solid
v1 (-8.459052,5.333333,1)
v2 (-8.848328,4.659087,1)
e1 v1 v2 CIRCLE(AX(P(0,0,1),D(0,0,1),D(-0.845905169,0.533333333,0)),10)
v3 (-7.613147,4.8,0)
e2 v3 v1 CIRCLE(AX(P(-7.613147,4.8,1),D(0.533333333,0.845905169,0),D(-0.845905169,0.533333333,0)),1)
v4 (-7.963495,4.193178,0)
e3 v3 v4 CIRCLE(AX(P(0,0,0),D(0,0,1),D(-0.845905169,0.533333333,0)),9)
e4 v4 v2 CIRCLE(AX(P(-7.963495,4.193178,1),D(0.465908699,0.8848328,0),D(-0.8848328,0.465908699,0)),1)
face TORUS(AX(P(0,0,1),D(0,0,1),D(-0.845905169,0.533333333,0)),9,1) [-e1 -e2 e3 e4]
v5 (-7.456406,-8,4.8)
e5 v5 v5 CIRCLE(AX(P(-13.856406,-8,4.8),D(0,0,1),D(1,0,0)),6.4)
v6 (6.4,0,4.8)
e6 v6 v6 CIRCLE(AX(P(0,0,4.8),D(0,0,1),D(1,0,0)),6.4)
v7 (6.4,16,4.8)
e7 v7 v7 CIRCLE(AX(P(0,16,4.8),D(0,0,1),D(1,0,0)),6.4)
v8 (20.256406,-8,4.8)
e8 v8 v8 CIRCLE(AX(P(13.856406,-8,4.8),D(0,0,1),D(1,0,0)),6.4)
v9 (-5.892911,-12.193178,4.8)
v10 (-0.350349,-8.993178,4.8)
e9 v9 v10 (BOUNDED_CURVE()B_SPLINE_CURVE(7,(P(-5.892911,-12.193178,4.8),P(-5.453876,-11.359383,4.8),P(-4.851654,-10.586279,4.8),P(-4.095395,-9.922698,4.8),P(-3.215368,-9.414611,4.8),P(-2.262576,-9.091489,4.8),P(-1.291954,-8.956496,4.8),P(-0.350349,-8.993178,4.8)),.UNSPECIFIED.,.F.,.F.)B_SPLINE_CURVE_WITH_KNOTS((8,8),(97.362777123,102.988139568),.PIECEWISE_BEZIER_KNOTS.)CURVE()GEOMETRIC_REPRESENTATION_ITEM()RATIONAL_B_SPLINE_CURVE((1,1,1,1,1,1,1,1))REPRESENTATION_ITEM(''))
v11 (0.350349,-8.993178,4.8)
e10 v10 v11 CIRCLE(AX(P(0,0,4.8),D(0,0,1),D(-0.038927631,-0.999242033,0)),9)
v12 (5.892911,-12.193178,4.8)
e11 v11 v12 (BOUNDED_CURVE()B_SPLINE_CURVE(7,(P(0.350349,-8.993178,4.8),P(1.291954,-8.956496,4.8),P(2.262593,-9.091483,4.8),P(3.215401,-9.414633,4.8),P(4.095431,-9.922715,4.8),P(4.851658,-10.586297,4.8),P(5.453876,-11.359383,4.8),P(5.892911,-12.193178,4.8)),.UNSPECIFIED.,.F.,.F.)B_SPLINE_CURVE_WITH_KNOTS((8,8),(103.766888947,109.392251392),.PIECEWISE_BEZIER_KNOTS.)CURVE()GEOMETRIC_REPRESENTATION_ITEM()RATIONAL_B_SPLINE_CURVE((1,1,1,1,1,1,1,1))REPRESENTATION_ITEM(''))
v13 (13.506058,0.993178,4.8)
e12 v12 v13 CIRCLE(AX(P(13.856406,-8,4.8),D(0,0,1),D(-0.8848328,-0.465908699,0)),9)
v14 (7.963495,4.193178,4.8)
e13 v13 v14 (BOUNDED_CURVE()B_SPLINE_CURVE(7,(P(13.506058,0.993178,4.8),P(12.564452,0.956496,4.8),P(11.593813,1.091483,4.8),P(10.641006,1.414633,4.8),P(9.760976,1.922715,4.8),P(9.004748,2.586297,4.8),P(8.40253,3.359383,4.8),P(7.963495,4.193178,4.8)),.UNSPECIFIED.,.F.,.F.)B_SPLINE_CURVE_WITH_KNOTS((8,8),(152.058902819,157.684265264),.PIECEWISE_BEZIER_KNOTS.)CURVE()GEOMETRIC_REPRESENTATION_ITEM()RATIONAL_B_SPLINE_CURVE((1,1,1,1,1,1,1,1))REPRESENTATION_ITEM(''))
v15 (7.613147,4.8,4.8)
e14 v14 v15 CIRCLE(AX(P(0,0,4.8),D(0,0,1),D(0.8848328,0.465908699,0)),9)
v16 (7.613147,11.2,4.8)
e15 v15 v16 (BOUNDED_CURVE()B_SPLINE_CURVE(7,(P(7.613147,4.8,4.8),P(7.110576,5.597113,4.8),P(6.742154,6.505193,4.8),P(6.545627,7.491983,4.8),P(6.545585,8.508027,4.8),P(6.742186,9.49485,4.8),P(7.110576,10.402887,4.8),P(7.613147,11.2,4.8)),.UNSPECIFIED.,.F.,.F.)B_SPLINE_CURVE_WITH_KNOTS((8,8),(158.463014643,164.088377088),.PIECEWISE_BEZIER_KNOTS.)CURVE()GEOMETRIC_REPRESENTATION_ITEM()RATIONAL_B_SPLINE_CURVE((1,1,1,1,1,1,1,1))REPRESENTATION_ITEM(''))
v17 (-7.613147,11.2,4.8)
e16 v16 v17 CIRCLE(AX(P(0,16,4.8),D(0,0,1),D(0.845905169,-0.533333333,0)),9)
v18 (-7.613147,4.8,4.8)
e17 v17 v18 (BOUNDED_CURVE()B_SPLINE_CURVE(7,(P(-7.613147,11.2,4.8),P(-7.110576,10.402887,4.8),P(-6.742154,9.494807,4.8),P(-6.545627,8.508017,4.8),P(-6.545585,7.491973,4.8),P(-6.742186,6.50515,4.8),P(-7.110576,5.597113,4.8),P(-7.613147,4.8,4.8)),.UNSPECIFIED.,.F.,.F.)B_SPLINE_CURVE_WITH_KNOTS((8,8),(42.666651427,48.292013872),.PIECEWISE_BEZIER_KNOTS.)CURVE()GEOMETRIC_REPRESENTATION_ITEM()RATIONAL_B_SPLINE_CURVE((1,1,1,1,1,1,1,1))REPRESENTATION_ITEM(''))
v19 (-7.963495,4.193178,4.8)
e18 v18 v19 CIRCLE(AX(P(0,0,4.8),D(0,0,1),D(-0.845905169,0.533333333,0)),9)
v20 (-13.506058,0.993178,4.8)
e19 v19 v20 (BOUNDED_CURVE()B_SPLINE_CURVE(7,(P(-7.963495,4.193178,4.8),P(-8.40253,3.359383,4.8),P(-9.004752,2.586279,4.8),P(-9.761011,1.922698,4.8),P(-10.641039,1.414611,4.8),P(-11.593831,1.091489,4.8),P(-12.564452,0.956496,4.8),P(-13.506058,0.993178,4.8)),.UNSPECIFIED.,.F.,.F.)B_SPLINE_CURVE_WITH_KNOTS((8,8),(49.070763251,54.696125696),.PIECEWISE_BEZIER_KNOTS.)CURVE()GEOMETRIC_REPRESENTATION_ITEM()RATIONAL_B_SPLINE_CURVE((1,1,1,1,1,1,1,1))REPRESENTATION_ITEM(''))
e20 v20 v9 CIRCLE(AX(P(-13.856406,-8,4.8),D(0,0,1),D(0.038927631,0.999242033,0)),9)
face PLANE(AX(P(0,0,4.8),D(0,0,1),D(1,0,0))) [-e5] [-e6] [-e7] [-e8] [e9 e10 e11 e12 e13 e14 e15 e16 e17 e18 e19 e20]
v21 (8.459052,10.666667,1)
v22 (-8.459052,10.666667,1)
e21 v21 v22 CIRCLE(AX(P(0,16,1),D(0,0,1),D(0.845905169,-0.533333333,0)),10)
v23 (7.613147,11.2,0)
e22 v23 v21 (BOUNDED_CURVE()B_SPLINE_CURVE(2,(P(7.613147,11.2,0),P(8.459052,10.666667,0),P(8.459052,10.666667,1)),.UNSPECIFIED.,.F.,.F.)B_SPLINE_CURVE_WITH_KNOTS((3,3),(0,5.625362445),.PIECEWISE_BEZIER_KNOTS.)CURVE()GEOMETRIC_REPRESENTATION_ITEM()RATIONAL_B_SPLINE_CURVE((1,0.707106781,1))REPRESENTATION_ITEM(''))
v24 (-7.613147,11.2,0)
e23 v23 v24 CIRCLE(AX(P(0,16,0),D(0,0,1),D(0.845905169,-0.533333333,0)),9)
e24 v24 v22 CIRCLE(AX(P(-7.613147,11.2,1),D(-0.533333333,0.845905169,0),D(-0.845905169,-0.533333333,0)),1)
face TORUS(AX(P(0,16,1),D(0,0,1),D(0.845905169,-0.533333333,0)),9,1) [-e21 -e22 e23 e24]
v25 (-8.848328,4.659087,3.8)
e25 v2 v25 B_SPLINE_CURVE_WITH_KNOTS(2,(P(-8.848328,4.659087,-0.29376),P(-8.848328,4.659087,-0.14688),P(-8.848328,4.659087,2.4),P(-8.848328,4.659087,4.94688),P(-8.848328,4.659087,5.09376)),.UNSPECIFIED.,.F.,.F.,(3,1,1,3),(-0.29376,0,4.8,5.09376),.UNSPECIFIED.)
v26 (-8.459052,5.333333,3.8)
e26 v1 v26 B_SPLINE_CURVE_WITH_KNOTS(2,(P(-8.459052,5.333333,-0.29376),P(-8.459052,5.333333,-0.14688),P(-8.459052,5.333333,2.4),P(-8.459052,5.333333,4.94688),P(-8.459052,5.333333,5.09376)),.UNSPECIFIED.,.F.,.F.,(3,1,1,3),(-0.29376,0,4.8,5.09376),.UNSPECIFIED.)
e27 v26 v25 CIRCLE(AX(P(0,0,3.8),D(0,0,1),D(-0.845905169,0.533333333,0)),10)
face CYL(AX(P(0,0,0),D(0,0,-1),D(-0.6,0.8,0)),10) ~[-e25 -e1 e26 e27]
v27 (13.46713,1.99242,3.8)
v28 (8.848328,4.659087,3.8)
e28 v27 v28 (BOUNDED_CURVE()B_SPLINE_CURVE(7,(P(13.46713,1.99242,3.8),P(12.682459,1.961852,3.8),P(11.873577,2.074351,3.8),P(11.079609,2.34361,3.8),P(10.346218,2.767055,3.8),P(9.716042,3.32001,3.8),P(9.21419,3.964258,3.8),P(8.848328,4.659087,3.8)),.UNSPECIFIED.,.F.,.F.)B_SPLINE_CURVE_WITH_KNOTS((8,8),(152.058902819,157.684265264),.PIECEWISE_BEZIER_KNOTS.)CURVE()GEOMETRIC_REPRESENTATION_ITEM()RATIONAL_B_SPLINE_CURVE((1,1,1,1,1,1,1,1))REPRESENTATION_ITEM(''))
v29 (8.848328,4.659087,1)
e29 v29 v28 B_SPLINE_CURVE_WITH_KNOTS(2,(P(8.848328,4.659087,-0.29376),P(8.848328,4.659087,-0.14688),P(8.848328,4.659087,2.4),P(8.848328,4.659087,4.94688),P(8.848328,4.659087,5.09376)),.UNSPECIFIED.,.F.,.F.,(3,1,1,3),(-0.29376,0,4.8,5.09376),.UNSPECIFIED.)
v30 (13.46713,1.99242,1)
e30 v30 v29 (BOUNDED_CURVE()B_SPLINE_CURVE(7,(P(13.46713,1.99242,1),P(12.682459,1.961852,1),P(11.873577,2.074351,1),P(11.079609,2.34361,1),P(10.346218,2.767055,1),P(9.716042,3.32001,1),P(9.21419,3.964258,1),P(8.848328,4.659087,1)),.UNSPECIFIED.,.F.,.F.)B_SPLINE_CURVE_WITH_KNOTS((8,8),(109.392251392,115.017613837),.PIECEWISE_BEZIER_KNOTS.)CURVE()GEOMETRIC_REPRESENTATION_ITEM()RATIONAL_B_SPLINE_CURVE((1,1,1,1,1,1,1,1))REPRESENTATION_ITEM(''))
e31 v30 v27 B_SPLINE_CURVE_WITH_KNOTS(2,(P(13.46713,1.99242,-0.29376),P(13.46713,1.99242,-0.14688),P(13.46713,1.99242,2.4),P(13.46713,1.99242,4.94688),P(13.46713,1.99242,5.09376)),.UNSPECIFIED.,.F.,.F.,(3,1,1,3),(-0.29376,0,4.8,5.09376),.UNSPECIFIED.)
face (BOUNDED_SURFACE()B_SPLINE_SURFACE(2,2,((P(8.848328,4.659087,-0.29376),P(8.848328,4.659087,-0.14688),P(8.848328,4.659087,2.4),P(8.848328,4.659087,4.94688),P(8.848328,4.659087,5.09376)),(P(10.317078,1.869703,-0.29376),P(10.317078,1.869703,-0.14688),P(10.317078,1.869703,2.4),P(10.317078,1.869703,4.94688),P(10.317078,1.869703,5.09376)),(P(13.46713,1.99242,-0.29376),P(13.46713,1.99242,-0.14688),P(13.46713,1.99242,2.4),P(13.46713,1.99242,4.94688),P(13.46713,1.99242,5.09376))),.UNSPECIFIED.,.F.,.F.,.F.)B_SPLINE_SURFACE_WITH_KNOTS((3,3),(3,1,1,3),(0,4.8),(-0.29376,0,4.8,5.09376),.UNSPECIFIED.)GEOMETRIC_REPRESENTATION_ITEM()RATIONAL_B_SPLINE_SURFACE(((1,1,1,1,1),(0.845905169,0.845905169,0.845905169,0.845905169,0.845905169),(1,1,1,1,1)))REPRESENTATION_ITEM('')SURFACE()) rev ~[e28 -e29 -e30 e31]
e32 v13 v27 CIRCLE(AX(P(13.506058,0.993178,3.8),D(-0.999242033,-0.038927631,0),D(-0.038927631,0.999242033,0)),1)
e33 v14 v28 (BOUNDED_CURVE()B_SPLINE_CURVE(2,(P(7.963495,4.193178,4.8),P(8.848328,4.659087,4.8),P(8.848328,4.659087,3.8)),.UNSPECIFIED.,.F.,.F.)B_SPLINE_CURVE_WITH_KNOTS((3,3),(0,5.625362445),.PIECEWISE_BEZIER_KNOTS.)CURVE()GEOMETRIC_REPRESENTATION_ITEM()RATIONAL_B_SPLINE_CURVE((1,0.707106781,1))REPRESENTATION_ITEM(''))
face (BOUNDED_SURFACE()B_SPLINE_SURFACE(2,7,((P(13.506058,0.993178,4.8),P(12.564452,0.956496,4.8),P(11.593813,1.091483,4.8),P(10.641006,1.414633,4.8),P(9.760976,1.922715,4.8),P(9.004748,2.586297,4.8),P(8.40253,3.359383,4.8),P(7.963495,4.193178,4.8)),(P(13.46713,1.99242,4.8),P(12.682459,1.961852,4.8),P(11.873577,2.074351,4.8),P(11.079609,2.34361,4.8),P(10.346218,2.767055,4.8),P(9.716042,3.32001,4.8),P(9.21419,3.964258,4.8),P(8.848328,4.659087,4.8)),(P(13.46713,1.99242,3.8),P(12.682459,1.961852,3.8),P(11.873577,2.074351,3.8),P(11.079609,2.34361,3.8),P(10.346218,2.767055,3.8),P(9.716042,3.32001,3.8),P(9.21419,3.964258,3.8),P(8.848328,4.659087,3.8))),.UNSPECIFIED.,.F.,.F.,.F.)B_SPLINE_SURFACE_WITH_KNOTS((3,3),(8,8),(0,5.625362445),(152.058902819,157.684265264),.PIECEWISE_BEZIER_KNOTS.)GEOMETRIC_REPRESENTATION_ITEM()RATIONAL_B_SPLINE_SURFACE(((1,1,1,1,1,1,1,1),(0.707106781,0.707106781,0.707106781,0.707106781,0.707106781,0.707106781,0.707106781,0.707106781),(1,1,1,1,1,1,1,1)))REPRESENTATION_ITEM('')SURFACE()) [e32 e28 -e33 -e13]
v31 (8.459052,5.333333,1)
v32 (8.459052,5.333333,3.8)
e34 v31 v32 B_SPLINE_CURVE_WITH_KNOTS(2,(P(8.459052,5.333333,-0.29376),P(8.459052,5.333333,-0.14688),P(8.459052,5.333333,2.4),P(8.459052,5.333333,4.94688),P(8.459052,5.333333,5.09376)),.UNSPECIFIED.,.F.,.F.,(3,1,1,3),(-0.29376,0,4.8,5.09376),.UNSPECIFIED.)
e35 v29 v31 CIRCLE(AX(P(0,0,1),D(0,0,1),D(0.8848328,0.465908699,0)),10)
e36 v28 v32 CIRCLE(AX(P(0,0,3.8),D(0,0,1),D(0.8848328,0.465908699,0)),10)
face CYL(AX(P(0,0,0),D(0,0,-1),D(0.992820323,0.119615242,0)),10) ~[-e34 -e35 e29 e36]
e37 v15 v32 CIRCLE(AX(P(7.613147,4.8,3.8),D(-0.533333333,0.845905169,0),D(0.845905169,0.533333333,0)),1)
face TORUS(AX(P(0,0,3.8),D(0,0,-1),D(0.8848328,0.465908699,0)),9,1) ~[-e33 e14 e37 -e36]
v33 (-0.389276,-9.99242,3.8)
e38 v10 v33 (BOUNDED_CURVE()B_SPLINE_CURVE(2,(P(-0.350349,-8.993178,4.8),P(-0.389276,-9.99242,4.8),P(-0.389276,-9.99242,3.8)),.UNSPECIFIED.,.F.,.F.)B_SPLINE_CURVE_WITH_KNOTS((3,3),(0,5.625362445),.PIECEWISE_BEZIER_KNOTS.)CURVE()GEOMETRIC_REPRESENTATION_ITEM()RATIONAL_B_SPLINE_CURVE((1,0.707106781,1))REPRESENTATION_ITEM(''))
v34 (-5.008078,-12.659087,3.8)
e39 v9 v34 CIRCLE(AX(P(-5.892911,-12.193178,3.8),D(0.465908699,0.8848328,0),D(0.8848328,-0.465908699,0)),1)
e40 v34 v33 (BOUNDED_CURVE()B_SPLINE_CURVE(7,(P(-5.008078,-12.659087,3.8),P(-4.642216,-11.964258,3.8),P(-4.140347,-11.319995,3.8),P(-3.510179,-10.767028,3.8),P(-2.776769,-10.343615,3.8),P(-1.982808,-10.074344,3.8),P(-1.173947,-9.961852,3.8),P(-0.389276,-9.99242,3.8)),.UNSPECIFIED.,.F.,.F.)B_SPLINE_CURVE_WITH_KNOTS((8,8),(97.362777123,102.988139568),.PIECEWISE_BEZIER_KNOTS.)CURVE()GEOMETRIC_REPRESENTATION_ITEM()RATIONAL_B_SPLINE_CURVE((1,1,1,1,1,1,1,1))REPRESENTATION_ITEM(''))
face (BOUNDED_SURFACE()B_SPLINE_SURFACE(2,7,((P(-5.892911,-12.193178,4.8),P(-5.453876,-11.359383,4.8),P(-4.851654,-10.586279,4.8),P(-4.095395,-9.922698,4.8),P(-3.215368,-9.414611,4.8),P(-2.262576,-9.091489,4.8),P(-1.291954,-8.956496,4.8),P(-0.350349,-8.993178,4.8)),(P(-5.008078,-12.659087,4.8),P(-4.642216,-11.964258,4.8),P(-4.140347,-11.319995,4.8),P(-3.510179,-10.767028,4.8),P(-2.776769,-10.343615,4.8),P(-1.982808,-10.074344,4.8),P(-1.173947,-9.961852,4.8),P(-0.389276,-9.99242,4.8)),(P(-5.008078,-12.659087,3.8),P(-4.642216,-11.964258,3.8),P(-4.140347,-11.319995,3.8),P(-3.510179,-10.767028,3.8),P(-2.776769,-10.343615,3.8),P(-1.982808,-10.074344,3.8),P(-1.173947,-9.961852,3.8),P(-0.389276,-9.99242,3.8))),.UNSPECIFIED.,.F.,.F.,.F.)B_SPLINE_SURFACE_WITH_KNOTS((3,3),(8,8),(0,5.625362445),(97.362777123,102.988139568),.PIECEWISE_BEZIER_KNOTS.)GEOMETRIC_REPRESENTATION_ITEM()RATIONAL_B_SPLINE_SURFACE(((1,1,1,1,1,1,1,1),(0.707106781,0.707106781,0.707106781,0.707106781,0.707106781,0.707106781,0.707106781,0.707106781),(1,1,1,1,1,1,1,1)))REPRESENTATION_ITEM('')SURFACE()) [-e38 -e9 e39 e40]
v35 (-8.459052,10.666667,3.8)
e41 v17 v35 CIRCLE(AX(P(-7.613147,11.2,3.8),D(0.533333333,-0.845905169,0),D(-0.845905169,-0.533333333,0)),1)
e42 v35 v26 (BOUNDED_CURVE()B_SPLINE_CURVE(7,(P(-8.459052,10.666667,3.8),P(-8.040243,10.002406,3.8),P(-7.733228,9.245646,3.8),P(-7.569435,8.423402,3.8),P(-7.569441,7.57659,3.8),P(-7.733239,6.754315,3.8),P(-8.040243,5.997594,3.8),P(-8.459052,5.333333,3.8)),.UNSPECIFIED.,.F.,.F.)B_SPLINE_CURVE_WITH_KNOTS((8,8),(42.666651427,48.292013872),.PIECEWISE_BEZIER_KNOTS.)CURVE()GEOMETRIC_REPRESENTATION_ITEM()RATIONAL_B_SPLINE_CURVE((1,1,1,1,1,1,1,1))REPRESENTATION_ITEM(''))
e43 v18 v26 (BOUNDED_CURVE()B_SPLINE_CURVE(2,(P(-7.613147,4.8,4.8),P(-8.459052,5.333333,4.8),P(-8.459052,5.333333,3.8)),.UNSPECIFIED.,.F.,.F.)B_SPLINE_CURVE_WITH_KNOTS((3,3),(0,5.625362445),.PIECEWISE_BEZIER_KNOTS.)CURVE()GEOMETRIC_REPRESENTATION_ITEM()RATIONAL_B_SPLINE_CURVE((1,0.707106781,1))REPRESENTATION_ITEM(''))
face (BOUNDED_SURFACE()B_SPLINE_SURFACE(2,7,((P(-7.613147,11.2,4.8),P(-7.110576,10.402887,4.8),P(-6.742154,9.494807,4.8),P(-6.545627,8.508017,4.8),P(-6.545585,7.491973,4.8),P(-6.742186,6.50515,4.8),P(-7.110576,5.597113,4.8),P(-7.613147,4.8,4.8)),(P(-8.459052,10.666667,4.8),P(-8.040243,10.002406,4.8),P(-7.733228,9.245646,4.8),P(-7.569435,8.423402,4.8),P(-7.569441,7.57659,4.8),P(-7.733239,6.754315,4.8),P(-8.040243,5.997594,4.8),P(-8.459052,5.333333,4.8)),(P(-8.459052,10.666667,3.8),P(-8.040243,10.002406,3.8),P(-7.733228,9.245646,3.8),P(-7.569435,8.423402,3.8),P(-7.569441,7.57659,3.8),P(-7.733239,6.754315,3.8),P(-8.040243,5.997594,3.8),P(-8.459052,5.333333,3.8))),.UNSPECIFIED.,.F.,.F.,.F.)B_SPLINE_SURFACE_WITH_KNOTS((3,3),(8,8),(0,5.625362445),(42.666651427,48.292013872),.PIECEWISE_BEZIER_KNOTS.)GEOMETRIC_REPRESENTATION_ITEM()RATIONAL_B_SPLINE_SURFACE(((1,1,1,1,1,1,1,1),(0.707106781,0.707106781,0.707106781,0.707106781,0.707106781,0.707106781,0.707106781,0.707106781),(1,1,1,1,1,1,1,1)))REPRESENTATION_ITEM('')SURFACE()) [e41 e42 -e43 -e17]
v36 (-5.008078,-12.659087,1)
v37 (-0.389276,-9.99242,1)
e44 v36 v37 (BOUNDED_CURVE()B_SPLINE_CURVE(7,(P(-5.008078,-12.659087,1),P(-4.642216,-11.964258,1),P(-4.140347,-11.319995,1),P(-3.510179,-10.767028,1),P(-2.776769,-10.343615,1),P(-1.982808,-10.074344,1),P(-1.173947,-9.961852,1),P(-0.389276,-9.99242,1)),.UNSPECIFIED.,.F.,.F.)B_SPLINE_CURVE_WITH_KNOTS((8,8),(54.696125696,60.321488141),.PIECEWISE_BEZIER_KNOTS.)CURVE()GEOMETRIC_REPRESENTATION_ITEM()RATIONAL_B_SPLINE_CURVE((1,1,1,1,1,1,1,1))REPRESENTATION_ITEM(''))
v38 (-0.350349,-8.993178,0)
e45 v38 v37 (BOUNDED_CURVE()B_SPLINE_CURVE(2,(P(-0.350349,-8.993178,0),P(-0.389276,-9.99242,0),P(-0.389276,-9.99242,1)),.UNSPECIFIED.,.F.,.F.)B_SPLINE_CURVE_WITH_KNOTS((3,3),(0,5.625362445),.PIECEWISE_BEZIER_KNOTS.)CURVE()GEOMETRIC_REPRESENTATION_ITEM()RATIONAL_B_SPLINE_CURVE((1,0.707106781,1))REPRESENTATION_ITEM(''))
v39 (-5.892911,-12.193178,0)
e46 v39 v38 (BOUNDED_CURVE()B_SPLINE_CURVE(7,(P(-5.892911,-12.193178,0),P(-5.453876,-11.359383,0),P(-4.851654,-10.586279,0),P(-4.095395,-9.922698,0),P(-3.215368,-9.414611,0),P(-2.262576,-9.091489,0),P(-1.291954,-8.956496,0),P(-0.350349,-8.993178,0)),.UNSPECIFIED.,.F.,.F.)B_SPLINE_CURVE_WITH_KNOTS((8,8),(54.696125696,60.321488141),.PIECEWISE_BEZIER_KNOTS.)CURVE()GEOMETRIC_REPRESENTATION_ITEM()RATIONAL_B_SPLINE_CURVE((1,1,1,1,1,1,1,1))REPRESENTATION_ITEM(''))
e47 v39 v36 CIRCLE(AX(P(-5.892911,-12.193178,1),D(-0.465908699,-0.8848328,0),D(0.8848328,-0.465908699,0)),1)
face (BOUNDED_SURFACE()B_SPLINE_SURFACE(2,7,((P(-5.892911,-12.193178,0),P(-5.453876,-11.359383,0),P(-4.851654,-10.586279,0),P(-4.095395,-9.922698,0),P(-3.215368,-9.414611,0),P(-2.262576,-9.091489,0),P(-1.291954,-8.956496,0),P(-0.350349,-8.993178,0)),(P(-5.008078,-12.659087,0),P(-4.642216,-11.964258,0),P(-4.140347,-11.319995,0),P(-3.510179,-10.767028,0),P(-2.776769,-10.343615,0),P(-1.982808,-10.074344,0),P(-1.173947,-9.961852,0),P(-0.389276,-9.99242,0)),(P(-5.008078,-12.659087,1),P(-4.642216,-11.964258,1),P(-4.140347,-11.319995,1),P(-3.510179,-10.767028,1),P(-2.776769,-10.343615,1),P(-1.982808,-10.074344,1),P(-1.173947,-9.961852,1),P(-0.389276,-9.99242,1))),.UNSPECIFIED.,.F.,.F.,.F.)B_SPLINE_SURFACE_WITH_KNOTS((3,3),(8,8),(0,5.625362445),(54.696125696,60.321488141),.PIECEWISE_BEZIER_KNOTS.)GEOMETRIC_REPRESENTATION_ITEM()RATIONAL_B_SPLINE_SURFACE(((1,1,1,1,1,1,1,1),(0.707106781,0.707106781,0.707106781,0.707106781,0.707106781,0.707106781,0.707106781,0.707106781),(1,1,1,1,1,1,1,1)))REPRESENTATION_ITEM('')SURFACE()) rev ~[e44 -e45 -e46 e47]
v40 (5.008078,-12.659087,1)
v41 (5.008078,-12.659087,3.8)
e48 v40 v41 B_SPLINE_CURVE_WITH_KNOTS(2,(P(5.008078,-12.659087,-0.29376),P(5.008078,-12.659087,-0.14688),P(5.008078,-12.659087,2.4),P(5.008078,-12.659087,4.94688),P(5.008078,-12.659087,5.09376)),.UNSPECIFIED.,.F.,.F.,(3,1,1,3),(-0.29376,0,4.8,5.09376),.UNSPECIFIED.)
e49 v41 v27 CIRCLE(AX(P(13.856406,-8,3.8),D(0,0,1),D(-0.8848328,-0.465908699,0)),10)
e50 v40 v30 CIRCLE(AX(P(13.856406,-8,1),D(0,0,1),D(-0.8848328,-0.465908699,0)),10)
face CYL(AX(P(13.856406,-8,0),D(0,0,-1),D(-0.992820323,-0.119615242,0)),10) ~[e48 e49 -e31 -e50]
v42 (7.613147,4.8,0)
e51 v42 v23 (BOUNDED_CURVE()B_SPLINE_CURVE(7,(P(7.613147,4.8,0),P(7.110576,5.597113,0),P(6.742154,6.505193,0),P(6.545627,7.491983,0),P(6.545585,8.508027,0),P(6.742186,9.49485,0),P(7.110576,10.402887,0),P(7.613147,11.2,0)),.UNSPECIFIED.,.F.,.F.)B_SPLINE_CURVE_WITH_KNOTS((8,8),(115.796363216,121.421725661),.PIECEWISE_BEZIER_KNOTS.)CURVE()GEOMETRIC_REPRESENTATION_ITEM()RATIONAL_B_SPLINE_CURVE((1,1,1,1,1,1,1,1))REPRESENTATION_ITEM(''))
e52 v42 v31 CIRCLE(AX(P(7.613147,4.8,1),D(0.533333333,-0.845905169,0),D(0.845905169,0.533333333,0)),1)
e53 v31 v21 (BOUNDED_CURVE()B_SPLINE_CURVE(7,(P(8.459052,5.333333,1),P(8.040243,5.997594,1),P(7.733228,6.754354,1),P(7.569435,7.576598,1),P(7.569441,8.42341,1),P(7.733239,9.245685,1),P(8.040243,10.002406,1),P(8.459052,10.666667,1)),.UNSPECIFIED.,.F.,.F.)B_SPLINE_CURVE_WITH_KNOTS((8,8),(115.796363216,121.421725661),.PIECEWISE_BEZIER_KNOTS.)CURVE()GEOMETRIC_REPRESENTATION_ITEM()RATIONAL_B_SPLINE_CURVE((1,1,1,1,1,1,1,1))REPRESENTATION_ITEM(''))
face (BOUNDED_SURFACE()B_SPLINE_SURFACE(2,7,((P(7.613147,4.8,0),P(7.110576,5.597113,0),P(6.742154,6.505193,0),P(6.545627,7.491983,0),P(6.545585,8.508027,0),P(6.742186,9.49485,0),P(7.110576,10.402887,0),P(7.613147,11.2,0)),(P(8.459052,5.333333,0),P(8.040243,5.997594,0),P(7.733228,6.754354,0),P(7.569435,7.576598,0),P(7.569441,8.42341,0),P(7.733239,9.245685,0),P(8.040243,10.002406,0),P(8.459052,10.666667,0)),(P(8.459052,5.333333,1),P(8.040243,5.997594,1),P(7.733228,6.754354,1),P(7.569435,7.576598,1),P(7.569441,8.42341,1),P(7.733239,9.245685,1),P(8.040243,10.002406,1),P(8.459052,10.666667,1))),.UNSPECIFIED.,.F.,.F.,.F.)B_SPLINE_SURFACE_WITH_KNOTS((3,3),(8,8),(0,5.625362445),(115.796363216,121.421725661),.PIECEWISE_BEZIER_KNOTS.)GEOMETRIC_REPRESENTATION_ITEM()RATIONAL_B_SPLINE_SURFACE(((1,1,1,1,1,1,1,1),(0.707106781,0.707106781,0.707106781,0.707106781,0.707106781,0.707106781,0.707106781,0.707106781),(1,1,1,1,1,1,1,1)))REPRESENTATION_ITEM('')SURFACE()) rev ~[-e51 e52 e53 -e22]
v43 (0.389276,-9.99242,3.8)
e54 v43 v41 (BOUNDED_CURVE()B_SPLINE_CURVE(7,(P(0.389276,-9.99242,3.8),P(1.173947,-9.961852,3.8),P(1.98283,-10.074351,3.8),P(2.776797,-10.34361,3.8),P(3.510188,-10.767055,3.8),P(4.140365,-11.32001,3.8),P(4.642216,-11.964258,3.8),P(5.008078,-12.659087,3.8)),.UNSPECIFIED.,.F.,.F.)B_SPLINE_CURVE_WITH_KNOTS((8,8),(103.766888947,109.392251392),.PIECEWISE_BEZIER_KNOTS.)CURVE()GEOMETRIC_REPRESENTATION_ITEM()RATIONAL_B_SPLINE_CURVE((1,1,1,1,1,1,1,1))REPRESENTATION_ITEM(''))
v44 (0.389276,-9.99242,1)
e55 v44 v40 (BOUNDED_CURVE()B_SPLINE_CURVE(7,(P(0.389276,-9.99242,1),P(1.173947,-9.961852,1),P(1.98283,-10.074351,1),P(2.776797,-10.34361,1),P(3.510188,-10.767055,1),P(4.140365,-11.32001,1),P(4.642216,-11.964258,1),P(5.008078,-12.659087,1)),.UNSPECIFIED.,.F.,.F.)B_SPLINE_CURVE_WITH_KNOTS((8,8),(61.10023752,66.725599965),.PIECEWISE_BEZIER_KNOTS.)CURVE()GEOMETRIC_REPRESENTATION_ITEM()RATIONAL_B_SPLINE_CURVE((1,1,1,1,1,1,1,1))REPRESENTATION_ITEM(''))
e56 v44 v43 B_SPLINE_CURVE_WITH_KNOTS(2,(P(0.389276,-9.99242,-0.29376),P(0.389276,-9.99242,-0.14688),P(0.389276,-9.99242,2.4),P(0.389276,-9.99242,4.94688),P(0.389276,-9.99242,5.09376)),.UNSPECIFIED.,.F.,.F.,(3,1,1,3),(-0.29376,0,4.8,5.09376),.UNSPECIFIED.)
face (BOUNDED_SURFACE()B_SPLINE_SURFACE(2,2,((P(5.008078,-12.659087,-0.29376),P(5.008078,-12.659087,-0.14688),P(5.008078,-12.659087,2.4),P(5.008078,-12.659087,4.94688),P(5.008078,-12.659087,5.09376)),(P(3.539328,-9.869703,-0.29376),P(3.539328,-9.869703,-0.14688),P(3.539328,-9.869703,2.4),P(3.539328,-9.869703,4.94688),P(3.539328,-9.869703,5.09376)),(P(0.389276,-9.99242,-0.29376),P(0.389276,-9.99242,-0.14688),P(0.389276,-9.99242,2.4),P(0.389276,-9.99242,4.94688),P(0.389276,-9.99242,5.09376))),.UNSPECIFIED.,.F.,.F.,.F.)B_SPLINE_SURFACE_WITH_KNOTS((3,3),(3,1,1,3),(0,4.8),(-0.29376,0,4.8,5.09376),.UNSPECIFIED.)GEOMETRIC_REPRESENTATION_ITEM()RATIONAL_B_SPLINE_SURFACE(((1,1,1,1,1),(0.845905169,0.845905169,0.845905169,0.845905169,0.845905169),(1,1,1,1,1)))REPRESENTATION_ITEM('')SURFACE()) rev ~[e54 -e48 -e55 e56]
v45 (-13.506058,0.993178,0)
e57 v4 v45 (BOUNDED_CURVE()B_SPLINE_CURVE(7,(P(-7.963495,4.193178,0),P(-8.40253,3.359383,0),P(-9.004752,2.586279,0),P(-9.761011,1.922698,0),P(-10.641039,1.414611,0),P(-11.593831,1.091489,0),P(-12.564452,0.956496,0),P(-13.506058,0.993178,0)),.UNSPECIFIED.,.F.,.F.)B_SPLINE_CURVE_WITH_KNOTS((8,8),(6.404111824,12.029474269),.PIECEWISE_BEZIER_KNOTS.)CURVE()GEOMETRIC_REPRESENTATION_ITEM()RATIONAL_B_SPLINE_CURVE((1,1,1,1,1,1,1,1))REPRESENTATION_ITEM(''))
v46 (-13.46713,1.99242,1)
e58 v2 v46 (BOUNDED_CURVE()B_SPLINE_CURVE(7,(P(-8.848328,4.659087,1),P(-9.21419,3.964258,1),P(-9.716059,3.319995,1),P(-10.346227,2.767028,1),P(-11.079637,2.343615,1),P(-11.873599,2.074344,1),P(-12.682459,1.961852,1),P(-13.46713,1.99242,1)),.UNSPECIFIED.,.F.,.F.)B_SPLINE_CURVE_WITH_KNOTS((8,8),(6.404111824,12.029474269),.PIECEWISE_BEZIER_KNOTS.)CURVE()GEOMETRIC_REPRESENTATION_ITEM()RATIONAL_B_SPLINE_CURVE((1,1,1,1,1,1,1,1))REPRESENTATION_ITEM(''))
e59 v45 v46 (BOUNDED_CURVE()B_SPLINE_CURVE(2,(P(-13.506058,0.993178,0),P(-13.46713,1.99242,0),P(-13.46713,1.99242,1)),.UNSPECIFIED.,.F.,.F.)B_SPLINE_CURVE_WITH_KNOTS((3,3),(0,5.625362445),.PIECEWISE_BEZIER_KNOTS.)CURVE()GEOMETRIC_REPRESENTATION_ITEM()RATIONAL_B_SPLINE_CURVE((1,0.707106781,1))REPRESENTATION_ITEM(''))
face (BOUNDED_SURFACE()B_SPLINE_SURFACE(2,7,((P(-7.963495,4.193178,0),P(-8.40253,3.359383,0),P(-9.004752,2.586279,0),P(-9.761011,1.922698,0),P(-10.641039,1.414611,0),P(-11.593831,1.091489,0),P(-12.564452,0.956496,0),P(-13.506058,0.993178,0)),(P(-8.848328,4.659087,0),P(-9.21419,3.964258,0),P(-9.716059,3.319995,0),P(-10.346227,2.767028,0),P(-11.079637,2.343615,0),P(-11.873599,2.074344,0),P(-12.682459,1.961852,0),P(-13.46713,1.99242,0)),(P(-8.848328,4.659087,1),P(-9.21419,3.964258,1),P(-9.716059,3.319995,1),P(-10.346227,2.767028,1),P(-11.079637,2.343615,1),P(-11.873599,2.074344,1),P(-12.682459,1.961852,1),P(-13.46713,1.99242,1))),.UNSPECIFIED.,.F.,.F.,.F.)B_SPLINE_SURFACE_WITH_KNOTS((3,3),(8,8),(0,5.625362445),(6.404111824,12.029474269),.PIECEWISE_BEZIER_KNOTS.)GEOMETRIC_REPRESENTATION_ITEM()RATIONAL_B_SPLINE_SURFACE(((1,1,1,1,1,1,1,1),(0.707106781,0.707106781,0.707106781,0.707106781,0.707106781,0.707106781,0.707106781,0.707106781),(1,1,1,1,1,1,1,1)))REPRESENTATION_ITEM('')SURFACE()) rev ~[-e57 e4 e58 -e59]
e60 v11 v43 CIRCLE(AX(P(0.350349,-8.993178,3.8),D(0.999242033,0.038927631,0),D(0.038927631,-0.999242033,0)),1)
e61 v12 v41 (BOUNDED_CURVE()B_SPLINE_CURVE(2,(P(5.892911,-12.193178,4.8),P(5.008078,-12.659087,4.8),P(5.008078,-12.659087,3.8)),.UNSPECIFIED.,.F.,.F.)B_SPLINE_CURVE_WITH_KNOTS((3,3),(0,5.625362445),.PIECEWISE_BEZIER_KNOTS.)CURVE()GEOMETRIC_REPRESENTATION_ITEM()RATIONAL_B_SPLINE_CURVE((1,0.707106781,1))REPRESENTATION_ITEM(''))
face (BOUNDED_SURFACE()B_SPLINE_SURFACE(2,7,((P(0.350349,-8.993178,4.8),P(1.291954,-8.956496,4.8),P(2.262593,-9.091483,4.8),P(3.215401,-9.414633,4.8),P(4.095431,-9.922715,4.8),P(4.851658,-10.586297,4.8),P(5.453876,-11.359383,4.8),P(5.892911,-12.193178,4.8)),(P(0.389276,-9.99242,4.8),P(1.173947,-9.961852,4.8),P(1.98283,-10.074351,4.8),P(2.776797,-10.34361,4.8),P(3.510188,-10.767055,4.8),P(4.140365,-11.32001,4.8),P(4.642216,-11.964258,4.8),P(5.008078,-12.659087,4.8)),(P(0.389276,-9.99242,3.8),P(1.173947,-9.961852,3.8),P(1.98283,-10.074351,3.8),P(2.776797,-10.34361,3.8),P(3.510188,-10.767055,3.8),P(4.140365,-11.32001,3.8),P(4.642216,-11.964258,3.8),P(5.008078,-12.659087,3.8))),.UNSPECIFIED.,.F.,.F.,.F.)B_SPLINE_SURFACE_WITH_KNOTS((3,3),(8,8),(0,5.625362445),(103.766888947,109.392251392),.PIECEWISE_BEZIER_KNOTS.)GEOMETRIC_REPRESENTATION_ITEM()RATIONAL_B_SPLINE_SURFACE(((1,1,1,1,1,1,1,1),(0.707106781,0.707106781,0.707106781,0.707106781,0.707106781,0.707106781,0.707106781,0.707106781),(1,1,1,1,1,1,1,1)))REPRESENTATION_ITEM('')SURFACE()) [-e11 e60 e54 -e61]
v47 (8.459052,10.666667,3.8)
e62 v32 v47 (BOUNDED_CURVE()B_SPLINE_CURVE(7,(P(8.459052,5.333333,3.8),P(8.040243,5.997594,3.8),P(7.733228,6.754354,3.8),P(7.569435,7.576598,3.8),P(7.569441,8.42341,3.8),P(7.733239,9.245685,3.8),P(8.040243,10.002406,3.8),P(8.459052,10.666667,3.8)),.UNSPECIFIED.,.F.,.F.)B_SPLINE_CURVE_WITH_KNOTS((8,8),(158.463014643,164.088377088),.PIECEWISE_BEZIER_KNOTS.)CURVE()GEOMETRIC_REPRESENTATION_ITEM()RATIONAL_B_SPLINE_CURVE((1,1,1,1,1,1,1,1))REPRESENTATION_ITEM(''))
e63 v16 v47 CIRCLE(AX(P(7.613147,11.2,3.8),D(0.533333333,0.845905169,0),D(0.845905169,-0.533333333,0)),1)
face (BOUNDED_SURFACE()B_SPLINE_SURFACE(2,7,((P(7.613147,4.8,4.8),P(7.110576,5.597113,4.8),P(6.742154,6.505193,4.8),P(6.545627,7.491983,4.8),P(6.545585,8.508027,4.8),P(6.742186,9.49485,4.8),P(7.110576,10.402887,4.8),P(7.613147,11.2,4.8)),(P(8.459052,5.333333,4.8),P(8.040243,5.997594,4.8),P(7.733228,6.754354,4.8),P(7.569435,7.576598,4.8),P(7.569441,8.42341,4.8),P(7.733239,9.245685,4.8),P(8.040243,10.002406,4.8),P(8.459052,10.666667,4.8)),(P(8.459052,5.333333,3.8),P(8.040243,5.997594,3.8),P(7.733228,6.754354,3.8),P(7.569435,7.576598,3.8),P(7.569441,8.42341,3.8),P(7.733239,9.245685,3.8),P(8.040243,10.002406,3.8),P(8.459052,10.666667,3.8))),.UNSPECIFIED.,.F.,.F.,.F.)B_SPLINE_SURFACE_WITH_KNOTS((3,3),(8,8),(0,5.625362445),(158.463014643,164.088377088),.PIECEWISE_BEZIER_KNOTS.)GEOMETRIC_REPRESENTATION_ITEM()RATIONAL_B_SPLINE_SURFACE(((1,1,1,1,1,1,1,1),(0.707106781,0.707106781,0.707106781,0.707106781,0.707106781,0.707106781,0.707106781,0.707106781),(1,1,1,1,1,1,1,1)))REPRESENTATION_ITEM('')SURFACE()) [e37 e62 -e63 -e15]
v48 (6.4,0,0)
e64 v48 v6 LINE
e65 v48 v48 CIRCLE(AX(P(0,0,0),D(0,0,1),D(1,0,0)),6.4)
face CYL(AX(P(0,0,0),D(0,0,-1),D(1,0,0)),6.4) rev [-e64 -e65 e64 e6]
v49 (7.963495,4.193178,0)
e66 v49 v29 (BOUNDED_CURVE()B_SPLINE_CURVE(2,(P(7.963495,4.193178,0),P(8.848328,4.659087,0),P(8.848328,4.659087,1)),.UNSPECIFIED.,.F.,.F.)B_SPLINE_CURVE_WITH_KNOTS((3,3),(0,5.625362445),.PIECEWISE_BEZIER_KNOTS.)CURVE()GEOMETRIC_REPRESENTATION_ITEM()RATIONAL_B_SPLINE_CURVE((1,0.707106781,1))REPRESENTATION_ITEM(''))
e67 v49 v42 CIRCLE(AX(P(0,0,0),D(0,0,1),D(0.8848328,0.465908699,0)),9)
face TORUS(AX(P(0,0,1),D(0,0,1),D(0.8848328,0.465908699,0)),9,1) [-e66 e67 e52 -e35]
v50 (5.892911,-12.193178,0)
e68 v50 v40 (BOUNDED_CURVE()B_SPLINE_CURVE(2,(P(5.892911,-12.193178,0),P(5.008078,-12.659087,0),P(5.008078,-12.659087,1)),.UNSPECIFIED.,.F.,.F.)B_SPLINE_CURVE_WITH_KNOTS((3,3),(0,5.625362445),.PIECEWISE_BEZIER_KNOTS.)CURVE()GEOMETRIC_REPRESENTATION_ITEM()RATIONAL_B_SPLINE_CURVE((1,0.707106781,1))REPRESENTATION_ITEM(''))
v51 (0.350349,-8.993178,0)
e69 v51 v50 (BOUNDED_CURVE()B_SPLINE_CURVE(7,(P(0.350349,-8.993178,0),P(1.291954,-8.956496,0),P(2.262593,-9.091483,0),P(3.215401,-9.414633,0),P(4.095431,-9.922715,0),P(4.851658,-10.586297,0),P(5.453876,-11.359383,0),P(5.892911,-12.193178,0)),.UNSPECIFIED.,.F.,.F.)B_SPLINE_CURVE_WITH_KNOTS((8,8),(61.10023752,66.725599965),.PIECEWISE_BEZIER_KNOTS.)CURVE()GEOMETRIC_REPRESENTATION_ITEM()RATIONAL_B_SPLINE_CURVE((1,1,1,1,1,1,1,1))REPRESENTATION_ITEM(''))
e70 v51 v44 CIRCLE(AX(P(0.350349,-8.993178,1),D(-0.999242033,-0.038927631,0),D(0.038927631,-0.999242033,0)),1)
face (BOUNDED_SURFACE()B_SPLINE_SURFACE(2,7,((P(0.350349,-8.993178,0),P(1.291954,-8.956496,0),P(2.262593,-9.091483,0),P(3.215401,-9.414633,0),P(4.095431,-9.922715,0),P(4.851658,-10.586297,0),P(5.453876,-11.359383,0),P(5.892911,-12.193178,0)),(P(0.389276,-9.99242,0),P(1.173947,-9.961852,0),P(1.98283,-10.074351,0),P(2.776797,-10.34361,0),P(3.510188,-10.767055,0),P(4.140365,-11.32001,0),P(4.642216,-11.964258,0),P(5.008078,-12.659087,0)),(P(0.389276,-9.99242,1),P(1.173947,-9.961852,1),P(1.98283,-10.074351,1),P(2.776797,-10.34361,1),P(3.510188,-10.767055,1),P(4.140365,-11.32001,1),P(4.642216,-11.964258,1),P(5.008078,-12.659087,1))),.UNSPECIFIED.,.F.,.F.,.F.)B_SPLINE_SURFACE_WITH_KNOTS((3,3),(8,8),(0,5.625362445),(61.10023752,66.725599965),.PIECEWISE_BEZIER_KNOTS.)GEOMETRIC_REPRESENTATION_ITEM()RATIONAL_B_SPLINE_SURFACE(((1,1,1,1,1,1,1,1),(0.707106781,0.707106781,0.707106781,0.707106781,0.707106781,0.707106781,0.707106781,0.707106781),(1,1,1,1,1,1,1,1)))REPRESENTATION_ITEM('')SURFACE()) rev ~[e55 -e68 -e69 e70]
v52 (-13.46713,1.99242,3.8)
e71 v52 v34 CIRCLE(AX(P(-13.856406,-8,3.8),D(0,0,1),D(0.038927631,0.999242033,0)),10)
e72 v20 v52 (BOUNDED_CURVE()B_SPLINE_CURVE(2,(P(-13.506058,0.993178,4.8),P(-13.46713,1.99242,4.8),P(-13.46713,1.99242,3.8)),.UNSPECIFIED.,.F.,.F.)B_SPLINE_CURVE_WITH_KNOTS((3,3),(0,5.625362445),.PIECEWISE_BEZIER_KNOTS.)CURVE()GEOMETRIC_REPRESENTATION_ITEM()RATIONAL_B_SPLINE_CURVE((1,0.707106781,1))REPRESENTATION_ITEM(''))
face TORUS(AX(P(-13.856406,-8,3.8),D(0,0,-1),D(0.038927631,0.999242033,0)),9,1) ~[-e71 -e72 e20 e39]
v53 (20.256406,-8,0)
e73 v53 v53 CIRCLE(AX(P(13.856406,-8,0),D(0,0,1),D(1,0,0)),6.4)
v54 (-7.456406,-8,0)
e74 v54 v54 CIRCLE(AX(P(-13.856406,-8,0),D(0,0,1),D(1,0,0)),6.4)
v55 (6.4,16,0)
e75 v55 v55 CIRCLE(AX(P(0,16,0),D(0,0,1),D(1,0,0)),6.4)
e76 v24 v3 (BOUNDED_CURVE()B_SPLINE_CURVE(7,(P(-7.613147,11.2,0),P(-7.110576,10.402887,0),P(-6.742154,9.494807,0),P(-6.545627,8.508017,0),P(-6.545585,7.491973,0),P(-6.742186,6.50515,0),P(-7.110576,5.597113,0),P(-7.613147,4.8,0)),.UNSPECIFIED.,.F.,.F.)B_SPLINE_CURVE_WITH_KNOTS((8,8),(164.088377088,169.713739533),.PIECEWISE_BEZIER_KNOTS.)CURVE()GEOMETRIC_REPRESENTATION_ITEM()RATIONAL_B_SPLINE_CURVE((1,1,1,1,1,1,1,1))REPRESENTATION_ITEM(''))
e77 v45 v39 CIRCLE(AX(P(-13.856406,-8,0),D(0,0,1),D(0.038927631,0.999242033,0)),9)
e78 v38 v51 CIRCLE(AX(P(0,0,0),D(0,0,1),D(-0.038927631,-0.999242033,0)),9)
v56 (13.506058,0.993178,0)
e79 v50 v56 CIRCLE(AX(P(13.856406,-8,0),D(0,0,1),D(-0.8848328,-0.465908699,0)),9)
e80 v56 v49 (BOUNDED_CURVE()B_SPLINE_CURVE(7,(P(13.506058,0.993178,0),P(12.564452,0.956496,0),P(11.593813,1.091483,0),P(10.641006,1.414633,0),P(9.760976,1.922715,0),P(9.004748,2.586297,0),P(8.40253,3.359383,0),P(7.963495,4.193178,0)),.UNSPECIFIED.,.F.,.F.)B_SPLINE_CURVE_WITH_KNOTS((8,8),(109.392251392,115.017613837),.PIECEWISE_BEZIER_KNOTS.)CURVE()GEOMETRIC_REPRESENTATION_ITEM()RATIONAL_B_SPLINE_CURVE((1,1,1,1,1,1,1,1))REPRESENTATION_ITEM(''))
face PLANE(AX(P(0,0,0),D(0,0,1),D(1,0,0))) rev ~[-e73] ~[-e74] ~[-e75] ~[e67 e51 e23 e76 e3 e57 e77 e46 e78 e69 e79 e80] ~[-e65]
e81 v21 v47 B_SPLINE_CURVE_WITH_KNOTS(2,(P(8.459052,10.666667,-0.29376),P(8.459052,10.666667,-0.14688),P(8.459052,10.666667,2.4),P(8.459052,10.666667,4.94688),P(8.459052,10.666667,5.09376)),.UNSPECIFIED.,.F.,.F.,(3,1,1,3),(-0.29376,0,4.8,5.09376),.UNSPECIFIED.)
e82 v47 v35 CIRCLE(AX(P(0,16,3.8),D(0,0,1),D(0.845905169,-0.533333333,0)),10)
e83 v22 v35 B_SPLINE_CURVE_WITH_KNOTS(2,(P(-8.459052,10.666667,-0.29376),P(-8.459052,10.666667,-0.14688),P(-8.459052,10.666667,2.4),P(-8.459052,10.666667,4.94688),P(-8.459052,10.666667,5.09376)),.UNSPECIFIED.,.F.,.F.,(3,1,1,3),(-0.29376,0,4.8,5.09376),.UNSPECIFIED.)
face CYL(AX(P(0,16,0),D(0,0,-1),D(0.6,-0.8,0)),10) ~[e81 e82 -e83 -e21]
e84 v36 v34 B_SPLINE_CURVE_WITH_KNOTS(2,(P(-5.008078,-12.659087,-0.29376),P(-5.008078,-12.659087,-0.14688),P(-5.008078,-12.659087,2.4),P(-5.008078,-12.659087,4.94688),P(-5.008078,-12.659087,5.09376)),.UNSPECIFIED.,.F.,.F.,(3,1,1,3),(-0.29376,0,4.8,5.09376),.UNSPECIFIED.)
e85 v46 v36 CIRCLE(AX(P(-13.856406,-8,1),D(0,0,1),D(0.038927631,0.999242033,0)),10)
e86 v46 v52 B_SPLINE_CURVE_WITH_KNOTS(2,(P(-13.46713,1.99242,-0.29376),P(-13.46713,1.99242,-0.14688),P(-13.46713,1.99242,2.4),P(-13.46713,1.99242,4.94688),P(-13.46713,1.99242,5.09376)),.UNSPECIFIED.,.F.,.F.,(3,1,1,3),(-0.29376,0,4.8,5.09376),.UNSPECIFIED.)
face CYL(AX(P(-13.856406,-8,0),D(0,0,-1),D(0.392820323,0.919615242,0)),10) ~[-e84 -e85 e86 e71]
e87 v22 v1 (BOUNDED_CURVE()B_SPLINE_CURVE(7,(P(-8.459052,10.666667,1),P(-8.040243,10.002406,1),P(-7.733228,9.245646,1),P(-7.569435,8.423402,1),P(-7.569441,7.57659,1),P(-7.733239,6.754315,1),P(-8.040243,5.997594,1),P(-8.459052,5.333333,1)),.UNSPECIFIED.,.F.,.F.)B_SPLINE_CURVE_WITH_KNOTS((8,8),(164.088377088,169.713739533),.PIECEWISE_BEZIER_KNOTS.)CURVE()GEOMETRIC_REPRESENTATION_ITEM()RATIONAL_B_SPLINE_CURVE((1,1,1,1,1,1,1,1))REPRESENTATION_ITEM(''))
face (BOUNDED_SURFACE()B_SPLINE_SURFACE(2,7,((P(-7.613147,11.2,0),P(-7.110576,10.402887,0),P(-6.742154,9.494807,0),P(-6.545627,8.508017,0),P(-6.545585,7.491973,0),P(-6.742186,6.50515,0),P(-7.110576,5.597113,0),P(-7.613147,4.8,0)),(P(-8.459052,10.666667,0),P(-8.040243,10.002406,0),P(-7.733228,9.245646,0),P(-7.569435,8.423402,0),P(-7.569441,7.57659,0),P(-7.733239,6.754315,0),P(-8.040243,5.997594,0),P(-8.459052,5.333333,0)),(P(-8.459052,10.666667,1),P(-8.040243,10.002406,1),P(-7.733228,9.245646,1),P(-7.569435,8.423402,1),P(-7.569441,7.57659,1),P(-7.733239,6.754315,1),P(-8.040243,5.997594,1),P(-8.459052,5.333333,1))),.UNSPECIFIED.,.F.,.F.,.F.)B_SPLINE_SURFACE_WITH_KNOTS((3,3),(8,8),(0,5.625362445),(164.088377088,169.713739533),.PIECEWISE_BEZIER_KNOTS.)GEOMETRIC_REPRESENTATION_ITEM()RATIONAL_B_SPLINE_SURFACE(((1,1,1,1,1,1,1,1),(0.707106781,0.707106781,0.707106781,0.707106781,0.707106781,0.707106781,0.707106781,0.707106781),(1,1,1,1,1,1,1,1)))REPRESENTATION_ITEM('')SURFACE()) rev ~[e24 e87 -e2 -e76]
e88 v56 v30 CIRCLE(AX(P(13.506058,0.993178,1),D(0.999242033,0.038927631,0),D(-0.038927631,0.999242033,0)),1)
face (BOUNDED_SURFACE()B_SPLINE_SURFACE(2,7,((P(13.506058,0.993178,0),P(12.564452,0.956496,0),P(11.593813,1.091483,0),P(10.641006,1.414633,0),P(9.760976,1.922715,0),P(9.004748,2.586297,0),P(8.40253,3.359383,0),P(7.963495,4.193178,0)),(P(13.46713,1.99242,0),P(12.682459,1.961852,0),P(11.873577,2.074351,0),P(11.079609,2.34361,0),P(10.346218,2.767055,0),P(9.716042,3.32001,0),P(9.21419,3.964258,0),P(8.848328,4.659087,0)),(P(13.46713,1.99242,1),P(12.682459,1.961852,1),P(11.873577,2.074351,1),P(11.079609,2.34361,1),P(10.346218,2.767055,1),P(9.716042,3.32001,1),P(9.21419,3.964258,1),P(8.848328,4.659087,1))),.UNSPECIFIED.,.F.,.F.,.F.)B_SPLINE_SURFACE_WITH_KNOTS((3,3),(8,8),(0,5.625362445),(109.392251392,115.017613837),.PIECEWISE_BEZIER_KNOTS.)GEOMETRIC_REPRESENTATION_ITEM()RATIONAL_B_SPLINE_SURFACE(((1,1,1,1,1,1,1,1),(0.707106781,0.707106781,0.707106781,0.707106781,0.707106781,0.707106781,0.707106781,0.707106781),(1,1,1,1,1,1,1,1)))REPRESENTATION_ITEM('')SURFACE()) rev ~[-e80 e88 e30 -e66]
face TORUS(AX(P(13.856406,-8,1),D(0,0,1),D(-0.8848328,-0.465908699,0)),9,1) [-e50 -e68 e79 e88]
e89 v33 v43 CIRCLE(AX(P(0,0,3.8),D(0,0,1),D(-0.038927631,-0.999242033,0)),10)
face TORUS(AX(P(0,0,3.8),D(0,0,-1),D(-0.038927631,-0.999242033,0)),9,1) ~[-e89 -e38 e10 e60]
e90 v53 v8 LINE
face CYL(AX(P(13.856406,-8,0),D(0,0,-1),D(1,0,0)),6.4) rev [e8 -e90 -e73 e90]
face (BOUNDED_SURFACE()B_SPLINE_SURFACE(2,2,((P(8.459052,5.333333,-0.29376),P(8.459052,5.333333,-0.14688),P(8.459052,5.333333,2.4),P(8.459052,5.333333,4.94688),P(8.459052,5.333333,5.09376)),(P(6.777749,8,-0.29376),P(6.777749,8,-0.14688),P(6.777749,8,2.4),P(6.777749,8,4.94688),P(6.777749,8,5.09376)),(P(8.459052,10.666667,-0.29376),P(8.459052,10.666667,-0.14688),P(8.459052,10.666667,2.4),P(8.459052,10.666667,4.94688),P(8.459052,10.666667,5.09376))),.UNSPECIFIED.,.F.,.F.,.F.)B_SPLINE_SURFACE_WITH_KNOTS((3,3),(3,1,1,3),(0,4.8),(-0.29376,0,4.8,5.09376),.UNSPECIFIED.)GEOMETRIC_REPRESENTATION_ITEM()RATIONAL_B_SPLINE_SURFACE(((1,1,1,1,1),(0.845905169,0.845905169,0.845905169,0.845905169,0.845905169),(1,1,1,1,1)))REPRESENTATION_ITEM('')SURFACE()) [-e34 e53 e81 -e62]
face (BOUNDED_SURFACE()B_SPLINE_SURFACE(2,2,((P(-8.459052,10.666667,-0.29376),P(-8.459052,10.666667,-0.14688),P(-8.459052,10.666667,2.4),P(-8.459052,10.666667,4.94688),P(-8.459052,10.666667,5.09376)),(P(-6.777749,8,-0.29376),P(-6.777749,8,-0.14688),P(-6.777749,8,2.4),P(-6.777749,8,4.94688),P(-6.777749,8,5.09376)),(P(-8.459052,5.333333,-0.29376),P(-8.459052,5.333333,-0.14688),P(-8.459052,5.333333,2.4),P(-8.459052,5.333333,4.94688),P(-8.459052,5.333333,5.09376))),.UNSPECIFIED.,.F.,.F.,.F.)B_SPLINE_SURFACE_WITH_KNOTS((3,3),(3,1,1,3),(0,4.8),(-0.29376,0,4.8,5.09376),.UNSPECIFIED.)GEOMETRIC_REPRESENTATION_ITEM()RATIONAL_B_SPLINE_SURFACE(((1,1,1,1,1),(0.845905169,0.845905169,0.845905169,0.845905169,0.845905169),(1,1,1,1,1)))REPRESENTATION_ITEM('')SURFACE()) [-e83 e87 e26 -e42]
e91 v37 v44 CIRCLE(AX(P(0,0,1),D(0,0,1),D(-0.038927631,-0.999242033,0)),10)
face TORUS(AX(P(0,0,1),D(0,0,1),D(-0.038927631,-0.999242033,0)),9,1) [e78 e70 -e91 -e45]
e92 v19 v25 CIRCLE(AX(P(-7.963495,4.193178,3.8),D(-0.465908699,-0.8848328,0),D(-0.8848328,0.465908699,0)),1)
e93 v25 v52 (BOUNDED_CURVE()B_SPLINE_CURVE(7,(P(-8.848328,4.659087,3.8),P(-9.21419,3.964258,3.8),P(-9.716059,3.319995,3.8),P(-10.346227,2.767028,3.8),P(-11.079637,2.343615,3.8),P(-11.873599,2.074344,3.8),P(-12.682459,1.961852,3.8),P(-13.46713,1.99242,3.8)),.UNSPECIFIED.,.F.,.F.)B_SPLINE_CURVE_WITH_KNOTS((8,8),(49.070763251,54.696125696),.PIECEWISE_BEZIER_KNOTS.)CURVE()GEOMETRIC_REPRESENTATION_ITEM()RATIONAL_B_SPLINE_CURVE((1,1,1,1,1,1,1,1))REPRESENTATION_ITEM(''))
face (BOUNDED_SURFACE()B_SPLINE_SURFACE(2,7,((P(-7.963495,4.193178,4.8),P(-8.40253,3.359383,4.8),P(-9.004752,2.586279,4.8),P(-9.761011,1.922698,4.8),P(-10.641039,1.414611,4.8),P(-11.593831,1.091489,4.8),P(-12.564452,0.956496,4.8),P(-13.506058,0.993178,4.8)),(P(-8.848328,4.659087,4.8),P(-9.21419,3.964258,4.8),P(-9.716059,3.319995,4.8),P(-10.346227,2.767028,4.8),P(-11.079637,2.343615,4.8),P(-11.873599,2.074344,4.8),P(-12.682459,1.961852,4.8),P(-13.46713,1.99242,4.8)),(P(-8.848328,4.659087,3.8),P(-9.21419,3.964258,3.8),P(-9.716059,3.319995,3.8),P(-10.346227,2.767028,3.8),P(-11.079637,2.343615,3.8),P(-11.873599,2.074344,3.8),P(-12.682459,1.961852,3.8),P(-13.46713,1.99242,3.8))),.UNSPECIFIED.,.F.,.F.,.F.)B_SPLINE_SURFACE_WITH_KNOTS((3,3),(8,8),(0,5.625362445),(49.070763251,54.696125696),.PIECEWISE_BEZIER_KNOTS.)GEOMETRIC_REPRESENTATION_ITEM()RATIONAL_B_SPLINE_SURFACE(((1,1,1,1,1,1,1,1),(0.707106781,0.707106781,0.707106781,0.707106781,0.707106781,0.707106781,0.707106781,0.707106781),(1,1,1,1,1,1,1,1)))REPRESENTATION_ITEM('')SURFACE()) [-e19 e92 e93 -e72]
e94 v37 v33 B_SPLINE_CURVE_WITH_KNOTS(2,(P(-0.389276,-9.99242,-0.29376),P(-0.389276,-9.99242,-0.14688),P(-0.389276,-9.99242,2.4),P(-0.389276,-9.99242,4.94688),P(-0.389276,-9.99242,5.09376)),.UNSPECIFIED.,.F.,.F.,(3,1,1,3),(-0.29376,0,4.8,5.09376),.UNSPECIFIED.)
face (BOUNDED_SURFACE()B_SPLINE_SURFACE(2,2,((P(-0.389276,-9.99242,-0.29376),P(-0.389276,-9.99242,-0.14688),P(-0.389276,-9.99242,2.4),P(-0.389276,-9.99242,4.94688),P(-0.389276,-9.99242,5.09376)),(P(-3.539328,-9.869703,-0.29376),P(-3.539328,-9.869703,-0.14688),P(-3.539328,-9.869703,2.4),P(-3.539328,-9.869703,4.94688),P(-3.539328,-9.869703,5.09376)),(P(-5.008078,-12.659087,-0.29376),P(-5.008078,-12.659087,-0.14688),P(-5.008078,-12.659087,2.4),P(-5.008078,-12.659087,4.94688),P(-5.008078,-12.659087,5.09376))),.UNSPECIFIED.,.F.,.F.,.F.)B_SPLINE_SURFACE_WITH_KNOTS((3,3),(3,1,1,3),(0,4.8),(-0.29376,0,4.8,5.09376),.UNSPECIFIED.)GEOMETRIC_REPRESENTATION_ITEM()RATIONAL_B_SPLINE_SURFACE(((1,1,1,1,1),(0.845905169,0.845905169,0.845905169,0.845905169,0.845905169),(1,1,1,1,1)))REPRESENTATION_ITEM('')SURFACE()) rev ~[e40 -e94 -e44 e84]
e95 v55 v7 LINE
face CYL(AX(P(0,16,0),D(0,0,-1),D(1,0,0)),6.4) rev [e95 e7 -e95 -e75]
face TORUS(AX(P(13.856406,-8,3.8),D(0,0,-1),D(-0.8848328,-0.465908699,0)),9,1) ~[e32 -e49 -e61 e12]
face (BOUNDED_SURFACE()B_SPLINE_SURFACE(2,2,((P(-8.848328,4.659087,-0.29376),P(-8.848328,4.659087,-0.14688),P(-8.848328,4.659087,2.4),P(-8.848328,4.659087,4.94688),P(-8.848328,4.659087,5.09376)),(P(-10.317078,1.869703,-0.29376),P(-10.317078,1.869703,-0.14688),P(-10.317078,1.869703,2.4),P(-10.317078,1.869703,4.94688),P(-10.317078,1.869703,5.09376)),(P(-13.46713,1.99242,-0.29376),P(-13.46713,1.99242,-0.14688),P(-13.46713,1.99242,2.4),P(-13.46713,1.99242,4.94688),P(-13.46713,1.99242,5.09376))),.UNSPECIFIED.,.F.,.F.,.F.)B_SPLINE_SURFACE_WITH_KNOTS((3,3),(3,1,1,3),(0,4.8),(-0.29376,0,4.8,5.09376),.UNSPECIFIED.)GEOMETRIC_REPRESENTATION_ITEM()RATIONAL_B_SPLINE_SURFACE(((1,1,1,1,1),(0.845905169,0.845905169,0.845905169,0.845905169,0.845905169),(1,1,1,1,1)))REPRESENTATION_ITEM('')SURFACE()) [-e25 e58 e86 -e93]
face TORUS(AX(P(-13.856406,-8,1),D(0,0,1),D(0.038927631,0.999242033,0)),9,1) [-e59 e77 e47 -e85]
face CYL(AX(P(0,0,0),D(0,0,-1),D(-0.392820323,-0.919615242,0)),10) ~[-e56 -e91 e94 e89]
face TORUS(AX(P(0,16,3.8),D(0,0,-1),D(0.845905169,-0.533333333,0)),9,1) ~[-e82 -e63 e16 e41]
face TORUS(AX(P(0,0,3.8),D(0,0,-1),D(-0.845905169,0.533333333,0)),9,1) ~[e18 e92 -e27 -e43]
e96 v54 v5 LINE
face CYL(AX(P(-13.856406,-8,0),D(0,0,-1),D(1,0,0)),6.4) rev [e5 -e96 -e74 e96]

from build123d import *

# Parameters (mm, degrees)
F0_R     = 6.4
F1_DEPTH = 4.8
F2_R     = 5
F3_R     = 1


with BuildPart() as f1:
    # F0 (on Top) → F1 (new body)
    with BuildSketch(Plane.XY):
        with BuildLine():
            ThreePointArc((9.9282032303, 1.1961524227), (8.6602540378, 5), (6, 8))
            ThreePointArc((6, 8), (0, 26), (-6, 8))
            ThreePointArc((-6, 8), (-8.6602540378, 5), (-9.9282032303, 1.1961524227))
            ThreePointArc((-9.9282032303, 1.1961524227), (-22.5166604984, -13), (-3.9282032303, -9.1961524227))
            ThreePointArc((-3.9282032303, -9.1961524227), (0, -10), (3.9282032303, -9.1961524227))
            ThreePointArc((3.9282032303, -9.1961524227), (22.5166604984, -13), (9.9282032303, 1.1961524227))
        make_face()
        with Locations((-13.8564064606, -8)):
            Circle(F0_R, mode=Mode.SUBTRACT)
        with Locations((13.8564064606, -8)):
            Circle(F0_R, mode=Mode.SUBTRACT)
        Circle(F0_R, mode=Mode.SUBTRACT)
        with Locations((0, 16)):
            Circle(F0_R, mode=Mode.SUBTRACT)
    extrude(amount=F1_DEPTH)

    # F2
    f2_edges = [f1.edges().sort_by_distance(p)[0] for p in [
        (6, 8, 2.4),
        (9.928203, 1.196152, 2.4),
        (3.928203, -9.196152, 2.4),
        (-3.928203, -9.196152, 2.4),
        (-9.928203, 1.196152, 2.4),
        (-6, 8, 2.4),
    ]]
    fillet(f2_edges, radius=F2_R)

    # F3
    f3_edges = [f1.edges().sort_by_distance(p)[0] for p in [
        (-7.688578, 8, 0),
        (0, 26, 4.8),
    ]]
    fillet(f3_edges, radius=F3_R)


solid = f1.part
